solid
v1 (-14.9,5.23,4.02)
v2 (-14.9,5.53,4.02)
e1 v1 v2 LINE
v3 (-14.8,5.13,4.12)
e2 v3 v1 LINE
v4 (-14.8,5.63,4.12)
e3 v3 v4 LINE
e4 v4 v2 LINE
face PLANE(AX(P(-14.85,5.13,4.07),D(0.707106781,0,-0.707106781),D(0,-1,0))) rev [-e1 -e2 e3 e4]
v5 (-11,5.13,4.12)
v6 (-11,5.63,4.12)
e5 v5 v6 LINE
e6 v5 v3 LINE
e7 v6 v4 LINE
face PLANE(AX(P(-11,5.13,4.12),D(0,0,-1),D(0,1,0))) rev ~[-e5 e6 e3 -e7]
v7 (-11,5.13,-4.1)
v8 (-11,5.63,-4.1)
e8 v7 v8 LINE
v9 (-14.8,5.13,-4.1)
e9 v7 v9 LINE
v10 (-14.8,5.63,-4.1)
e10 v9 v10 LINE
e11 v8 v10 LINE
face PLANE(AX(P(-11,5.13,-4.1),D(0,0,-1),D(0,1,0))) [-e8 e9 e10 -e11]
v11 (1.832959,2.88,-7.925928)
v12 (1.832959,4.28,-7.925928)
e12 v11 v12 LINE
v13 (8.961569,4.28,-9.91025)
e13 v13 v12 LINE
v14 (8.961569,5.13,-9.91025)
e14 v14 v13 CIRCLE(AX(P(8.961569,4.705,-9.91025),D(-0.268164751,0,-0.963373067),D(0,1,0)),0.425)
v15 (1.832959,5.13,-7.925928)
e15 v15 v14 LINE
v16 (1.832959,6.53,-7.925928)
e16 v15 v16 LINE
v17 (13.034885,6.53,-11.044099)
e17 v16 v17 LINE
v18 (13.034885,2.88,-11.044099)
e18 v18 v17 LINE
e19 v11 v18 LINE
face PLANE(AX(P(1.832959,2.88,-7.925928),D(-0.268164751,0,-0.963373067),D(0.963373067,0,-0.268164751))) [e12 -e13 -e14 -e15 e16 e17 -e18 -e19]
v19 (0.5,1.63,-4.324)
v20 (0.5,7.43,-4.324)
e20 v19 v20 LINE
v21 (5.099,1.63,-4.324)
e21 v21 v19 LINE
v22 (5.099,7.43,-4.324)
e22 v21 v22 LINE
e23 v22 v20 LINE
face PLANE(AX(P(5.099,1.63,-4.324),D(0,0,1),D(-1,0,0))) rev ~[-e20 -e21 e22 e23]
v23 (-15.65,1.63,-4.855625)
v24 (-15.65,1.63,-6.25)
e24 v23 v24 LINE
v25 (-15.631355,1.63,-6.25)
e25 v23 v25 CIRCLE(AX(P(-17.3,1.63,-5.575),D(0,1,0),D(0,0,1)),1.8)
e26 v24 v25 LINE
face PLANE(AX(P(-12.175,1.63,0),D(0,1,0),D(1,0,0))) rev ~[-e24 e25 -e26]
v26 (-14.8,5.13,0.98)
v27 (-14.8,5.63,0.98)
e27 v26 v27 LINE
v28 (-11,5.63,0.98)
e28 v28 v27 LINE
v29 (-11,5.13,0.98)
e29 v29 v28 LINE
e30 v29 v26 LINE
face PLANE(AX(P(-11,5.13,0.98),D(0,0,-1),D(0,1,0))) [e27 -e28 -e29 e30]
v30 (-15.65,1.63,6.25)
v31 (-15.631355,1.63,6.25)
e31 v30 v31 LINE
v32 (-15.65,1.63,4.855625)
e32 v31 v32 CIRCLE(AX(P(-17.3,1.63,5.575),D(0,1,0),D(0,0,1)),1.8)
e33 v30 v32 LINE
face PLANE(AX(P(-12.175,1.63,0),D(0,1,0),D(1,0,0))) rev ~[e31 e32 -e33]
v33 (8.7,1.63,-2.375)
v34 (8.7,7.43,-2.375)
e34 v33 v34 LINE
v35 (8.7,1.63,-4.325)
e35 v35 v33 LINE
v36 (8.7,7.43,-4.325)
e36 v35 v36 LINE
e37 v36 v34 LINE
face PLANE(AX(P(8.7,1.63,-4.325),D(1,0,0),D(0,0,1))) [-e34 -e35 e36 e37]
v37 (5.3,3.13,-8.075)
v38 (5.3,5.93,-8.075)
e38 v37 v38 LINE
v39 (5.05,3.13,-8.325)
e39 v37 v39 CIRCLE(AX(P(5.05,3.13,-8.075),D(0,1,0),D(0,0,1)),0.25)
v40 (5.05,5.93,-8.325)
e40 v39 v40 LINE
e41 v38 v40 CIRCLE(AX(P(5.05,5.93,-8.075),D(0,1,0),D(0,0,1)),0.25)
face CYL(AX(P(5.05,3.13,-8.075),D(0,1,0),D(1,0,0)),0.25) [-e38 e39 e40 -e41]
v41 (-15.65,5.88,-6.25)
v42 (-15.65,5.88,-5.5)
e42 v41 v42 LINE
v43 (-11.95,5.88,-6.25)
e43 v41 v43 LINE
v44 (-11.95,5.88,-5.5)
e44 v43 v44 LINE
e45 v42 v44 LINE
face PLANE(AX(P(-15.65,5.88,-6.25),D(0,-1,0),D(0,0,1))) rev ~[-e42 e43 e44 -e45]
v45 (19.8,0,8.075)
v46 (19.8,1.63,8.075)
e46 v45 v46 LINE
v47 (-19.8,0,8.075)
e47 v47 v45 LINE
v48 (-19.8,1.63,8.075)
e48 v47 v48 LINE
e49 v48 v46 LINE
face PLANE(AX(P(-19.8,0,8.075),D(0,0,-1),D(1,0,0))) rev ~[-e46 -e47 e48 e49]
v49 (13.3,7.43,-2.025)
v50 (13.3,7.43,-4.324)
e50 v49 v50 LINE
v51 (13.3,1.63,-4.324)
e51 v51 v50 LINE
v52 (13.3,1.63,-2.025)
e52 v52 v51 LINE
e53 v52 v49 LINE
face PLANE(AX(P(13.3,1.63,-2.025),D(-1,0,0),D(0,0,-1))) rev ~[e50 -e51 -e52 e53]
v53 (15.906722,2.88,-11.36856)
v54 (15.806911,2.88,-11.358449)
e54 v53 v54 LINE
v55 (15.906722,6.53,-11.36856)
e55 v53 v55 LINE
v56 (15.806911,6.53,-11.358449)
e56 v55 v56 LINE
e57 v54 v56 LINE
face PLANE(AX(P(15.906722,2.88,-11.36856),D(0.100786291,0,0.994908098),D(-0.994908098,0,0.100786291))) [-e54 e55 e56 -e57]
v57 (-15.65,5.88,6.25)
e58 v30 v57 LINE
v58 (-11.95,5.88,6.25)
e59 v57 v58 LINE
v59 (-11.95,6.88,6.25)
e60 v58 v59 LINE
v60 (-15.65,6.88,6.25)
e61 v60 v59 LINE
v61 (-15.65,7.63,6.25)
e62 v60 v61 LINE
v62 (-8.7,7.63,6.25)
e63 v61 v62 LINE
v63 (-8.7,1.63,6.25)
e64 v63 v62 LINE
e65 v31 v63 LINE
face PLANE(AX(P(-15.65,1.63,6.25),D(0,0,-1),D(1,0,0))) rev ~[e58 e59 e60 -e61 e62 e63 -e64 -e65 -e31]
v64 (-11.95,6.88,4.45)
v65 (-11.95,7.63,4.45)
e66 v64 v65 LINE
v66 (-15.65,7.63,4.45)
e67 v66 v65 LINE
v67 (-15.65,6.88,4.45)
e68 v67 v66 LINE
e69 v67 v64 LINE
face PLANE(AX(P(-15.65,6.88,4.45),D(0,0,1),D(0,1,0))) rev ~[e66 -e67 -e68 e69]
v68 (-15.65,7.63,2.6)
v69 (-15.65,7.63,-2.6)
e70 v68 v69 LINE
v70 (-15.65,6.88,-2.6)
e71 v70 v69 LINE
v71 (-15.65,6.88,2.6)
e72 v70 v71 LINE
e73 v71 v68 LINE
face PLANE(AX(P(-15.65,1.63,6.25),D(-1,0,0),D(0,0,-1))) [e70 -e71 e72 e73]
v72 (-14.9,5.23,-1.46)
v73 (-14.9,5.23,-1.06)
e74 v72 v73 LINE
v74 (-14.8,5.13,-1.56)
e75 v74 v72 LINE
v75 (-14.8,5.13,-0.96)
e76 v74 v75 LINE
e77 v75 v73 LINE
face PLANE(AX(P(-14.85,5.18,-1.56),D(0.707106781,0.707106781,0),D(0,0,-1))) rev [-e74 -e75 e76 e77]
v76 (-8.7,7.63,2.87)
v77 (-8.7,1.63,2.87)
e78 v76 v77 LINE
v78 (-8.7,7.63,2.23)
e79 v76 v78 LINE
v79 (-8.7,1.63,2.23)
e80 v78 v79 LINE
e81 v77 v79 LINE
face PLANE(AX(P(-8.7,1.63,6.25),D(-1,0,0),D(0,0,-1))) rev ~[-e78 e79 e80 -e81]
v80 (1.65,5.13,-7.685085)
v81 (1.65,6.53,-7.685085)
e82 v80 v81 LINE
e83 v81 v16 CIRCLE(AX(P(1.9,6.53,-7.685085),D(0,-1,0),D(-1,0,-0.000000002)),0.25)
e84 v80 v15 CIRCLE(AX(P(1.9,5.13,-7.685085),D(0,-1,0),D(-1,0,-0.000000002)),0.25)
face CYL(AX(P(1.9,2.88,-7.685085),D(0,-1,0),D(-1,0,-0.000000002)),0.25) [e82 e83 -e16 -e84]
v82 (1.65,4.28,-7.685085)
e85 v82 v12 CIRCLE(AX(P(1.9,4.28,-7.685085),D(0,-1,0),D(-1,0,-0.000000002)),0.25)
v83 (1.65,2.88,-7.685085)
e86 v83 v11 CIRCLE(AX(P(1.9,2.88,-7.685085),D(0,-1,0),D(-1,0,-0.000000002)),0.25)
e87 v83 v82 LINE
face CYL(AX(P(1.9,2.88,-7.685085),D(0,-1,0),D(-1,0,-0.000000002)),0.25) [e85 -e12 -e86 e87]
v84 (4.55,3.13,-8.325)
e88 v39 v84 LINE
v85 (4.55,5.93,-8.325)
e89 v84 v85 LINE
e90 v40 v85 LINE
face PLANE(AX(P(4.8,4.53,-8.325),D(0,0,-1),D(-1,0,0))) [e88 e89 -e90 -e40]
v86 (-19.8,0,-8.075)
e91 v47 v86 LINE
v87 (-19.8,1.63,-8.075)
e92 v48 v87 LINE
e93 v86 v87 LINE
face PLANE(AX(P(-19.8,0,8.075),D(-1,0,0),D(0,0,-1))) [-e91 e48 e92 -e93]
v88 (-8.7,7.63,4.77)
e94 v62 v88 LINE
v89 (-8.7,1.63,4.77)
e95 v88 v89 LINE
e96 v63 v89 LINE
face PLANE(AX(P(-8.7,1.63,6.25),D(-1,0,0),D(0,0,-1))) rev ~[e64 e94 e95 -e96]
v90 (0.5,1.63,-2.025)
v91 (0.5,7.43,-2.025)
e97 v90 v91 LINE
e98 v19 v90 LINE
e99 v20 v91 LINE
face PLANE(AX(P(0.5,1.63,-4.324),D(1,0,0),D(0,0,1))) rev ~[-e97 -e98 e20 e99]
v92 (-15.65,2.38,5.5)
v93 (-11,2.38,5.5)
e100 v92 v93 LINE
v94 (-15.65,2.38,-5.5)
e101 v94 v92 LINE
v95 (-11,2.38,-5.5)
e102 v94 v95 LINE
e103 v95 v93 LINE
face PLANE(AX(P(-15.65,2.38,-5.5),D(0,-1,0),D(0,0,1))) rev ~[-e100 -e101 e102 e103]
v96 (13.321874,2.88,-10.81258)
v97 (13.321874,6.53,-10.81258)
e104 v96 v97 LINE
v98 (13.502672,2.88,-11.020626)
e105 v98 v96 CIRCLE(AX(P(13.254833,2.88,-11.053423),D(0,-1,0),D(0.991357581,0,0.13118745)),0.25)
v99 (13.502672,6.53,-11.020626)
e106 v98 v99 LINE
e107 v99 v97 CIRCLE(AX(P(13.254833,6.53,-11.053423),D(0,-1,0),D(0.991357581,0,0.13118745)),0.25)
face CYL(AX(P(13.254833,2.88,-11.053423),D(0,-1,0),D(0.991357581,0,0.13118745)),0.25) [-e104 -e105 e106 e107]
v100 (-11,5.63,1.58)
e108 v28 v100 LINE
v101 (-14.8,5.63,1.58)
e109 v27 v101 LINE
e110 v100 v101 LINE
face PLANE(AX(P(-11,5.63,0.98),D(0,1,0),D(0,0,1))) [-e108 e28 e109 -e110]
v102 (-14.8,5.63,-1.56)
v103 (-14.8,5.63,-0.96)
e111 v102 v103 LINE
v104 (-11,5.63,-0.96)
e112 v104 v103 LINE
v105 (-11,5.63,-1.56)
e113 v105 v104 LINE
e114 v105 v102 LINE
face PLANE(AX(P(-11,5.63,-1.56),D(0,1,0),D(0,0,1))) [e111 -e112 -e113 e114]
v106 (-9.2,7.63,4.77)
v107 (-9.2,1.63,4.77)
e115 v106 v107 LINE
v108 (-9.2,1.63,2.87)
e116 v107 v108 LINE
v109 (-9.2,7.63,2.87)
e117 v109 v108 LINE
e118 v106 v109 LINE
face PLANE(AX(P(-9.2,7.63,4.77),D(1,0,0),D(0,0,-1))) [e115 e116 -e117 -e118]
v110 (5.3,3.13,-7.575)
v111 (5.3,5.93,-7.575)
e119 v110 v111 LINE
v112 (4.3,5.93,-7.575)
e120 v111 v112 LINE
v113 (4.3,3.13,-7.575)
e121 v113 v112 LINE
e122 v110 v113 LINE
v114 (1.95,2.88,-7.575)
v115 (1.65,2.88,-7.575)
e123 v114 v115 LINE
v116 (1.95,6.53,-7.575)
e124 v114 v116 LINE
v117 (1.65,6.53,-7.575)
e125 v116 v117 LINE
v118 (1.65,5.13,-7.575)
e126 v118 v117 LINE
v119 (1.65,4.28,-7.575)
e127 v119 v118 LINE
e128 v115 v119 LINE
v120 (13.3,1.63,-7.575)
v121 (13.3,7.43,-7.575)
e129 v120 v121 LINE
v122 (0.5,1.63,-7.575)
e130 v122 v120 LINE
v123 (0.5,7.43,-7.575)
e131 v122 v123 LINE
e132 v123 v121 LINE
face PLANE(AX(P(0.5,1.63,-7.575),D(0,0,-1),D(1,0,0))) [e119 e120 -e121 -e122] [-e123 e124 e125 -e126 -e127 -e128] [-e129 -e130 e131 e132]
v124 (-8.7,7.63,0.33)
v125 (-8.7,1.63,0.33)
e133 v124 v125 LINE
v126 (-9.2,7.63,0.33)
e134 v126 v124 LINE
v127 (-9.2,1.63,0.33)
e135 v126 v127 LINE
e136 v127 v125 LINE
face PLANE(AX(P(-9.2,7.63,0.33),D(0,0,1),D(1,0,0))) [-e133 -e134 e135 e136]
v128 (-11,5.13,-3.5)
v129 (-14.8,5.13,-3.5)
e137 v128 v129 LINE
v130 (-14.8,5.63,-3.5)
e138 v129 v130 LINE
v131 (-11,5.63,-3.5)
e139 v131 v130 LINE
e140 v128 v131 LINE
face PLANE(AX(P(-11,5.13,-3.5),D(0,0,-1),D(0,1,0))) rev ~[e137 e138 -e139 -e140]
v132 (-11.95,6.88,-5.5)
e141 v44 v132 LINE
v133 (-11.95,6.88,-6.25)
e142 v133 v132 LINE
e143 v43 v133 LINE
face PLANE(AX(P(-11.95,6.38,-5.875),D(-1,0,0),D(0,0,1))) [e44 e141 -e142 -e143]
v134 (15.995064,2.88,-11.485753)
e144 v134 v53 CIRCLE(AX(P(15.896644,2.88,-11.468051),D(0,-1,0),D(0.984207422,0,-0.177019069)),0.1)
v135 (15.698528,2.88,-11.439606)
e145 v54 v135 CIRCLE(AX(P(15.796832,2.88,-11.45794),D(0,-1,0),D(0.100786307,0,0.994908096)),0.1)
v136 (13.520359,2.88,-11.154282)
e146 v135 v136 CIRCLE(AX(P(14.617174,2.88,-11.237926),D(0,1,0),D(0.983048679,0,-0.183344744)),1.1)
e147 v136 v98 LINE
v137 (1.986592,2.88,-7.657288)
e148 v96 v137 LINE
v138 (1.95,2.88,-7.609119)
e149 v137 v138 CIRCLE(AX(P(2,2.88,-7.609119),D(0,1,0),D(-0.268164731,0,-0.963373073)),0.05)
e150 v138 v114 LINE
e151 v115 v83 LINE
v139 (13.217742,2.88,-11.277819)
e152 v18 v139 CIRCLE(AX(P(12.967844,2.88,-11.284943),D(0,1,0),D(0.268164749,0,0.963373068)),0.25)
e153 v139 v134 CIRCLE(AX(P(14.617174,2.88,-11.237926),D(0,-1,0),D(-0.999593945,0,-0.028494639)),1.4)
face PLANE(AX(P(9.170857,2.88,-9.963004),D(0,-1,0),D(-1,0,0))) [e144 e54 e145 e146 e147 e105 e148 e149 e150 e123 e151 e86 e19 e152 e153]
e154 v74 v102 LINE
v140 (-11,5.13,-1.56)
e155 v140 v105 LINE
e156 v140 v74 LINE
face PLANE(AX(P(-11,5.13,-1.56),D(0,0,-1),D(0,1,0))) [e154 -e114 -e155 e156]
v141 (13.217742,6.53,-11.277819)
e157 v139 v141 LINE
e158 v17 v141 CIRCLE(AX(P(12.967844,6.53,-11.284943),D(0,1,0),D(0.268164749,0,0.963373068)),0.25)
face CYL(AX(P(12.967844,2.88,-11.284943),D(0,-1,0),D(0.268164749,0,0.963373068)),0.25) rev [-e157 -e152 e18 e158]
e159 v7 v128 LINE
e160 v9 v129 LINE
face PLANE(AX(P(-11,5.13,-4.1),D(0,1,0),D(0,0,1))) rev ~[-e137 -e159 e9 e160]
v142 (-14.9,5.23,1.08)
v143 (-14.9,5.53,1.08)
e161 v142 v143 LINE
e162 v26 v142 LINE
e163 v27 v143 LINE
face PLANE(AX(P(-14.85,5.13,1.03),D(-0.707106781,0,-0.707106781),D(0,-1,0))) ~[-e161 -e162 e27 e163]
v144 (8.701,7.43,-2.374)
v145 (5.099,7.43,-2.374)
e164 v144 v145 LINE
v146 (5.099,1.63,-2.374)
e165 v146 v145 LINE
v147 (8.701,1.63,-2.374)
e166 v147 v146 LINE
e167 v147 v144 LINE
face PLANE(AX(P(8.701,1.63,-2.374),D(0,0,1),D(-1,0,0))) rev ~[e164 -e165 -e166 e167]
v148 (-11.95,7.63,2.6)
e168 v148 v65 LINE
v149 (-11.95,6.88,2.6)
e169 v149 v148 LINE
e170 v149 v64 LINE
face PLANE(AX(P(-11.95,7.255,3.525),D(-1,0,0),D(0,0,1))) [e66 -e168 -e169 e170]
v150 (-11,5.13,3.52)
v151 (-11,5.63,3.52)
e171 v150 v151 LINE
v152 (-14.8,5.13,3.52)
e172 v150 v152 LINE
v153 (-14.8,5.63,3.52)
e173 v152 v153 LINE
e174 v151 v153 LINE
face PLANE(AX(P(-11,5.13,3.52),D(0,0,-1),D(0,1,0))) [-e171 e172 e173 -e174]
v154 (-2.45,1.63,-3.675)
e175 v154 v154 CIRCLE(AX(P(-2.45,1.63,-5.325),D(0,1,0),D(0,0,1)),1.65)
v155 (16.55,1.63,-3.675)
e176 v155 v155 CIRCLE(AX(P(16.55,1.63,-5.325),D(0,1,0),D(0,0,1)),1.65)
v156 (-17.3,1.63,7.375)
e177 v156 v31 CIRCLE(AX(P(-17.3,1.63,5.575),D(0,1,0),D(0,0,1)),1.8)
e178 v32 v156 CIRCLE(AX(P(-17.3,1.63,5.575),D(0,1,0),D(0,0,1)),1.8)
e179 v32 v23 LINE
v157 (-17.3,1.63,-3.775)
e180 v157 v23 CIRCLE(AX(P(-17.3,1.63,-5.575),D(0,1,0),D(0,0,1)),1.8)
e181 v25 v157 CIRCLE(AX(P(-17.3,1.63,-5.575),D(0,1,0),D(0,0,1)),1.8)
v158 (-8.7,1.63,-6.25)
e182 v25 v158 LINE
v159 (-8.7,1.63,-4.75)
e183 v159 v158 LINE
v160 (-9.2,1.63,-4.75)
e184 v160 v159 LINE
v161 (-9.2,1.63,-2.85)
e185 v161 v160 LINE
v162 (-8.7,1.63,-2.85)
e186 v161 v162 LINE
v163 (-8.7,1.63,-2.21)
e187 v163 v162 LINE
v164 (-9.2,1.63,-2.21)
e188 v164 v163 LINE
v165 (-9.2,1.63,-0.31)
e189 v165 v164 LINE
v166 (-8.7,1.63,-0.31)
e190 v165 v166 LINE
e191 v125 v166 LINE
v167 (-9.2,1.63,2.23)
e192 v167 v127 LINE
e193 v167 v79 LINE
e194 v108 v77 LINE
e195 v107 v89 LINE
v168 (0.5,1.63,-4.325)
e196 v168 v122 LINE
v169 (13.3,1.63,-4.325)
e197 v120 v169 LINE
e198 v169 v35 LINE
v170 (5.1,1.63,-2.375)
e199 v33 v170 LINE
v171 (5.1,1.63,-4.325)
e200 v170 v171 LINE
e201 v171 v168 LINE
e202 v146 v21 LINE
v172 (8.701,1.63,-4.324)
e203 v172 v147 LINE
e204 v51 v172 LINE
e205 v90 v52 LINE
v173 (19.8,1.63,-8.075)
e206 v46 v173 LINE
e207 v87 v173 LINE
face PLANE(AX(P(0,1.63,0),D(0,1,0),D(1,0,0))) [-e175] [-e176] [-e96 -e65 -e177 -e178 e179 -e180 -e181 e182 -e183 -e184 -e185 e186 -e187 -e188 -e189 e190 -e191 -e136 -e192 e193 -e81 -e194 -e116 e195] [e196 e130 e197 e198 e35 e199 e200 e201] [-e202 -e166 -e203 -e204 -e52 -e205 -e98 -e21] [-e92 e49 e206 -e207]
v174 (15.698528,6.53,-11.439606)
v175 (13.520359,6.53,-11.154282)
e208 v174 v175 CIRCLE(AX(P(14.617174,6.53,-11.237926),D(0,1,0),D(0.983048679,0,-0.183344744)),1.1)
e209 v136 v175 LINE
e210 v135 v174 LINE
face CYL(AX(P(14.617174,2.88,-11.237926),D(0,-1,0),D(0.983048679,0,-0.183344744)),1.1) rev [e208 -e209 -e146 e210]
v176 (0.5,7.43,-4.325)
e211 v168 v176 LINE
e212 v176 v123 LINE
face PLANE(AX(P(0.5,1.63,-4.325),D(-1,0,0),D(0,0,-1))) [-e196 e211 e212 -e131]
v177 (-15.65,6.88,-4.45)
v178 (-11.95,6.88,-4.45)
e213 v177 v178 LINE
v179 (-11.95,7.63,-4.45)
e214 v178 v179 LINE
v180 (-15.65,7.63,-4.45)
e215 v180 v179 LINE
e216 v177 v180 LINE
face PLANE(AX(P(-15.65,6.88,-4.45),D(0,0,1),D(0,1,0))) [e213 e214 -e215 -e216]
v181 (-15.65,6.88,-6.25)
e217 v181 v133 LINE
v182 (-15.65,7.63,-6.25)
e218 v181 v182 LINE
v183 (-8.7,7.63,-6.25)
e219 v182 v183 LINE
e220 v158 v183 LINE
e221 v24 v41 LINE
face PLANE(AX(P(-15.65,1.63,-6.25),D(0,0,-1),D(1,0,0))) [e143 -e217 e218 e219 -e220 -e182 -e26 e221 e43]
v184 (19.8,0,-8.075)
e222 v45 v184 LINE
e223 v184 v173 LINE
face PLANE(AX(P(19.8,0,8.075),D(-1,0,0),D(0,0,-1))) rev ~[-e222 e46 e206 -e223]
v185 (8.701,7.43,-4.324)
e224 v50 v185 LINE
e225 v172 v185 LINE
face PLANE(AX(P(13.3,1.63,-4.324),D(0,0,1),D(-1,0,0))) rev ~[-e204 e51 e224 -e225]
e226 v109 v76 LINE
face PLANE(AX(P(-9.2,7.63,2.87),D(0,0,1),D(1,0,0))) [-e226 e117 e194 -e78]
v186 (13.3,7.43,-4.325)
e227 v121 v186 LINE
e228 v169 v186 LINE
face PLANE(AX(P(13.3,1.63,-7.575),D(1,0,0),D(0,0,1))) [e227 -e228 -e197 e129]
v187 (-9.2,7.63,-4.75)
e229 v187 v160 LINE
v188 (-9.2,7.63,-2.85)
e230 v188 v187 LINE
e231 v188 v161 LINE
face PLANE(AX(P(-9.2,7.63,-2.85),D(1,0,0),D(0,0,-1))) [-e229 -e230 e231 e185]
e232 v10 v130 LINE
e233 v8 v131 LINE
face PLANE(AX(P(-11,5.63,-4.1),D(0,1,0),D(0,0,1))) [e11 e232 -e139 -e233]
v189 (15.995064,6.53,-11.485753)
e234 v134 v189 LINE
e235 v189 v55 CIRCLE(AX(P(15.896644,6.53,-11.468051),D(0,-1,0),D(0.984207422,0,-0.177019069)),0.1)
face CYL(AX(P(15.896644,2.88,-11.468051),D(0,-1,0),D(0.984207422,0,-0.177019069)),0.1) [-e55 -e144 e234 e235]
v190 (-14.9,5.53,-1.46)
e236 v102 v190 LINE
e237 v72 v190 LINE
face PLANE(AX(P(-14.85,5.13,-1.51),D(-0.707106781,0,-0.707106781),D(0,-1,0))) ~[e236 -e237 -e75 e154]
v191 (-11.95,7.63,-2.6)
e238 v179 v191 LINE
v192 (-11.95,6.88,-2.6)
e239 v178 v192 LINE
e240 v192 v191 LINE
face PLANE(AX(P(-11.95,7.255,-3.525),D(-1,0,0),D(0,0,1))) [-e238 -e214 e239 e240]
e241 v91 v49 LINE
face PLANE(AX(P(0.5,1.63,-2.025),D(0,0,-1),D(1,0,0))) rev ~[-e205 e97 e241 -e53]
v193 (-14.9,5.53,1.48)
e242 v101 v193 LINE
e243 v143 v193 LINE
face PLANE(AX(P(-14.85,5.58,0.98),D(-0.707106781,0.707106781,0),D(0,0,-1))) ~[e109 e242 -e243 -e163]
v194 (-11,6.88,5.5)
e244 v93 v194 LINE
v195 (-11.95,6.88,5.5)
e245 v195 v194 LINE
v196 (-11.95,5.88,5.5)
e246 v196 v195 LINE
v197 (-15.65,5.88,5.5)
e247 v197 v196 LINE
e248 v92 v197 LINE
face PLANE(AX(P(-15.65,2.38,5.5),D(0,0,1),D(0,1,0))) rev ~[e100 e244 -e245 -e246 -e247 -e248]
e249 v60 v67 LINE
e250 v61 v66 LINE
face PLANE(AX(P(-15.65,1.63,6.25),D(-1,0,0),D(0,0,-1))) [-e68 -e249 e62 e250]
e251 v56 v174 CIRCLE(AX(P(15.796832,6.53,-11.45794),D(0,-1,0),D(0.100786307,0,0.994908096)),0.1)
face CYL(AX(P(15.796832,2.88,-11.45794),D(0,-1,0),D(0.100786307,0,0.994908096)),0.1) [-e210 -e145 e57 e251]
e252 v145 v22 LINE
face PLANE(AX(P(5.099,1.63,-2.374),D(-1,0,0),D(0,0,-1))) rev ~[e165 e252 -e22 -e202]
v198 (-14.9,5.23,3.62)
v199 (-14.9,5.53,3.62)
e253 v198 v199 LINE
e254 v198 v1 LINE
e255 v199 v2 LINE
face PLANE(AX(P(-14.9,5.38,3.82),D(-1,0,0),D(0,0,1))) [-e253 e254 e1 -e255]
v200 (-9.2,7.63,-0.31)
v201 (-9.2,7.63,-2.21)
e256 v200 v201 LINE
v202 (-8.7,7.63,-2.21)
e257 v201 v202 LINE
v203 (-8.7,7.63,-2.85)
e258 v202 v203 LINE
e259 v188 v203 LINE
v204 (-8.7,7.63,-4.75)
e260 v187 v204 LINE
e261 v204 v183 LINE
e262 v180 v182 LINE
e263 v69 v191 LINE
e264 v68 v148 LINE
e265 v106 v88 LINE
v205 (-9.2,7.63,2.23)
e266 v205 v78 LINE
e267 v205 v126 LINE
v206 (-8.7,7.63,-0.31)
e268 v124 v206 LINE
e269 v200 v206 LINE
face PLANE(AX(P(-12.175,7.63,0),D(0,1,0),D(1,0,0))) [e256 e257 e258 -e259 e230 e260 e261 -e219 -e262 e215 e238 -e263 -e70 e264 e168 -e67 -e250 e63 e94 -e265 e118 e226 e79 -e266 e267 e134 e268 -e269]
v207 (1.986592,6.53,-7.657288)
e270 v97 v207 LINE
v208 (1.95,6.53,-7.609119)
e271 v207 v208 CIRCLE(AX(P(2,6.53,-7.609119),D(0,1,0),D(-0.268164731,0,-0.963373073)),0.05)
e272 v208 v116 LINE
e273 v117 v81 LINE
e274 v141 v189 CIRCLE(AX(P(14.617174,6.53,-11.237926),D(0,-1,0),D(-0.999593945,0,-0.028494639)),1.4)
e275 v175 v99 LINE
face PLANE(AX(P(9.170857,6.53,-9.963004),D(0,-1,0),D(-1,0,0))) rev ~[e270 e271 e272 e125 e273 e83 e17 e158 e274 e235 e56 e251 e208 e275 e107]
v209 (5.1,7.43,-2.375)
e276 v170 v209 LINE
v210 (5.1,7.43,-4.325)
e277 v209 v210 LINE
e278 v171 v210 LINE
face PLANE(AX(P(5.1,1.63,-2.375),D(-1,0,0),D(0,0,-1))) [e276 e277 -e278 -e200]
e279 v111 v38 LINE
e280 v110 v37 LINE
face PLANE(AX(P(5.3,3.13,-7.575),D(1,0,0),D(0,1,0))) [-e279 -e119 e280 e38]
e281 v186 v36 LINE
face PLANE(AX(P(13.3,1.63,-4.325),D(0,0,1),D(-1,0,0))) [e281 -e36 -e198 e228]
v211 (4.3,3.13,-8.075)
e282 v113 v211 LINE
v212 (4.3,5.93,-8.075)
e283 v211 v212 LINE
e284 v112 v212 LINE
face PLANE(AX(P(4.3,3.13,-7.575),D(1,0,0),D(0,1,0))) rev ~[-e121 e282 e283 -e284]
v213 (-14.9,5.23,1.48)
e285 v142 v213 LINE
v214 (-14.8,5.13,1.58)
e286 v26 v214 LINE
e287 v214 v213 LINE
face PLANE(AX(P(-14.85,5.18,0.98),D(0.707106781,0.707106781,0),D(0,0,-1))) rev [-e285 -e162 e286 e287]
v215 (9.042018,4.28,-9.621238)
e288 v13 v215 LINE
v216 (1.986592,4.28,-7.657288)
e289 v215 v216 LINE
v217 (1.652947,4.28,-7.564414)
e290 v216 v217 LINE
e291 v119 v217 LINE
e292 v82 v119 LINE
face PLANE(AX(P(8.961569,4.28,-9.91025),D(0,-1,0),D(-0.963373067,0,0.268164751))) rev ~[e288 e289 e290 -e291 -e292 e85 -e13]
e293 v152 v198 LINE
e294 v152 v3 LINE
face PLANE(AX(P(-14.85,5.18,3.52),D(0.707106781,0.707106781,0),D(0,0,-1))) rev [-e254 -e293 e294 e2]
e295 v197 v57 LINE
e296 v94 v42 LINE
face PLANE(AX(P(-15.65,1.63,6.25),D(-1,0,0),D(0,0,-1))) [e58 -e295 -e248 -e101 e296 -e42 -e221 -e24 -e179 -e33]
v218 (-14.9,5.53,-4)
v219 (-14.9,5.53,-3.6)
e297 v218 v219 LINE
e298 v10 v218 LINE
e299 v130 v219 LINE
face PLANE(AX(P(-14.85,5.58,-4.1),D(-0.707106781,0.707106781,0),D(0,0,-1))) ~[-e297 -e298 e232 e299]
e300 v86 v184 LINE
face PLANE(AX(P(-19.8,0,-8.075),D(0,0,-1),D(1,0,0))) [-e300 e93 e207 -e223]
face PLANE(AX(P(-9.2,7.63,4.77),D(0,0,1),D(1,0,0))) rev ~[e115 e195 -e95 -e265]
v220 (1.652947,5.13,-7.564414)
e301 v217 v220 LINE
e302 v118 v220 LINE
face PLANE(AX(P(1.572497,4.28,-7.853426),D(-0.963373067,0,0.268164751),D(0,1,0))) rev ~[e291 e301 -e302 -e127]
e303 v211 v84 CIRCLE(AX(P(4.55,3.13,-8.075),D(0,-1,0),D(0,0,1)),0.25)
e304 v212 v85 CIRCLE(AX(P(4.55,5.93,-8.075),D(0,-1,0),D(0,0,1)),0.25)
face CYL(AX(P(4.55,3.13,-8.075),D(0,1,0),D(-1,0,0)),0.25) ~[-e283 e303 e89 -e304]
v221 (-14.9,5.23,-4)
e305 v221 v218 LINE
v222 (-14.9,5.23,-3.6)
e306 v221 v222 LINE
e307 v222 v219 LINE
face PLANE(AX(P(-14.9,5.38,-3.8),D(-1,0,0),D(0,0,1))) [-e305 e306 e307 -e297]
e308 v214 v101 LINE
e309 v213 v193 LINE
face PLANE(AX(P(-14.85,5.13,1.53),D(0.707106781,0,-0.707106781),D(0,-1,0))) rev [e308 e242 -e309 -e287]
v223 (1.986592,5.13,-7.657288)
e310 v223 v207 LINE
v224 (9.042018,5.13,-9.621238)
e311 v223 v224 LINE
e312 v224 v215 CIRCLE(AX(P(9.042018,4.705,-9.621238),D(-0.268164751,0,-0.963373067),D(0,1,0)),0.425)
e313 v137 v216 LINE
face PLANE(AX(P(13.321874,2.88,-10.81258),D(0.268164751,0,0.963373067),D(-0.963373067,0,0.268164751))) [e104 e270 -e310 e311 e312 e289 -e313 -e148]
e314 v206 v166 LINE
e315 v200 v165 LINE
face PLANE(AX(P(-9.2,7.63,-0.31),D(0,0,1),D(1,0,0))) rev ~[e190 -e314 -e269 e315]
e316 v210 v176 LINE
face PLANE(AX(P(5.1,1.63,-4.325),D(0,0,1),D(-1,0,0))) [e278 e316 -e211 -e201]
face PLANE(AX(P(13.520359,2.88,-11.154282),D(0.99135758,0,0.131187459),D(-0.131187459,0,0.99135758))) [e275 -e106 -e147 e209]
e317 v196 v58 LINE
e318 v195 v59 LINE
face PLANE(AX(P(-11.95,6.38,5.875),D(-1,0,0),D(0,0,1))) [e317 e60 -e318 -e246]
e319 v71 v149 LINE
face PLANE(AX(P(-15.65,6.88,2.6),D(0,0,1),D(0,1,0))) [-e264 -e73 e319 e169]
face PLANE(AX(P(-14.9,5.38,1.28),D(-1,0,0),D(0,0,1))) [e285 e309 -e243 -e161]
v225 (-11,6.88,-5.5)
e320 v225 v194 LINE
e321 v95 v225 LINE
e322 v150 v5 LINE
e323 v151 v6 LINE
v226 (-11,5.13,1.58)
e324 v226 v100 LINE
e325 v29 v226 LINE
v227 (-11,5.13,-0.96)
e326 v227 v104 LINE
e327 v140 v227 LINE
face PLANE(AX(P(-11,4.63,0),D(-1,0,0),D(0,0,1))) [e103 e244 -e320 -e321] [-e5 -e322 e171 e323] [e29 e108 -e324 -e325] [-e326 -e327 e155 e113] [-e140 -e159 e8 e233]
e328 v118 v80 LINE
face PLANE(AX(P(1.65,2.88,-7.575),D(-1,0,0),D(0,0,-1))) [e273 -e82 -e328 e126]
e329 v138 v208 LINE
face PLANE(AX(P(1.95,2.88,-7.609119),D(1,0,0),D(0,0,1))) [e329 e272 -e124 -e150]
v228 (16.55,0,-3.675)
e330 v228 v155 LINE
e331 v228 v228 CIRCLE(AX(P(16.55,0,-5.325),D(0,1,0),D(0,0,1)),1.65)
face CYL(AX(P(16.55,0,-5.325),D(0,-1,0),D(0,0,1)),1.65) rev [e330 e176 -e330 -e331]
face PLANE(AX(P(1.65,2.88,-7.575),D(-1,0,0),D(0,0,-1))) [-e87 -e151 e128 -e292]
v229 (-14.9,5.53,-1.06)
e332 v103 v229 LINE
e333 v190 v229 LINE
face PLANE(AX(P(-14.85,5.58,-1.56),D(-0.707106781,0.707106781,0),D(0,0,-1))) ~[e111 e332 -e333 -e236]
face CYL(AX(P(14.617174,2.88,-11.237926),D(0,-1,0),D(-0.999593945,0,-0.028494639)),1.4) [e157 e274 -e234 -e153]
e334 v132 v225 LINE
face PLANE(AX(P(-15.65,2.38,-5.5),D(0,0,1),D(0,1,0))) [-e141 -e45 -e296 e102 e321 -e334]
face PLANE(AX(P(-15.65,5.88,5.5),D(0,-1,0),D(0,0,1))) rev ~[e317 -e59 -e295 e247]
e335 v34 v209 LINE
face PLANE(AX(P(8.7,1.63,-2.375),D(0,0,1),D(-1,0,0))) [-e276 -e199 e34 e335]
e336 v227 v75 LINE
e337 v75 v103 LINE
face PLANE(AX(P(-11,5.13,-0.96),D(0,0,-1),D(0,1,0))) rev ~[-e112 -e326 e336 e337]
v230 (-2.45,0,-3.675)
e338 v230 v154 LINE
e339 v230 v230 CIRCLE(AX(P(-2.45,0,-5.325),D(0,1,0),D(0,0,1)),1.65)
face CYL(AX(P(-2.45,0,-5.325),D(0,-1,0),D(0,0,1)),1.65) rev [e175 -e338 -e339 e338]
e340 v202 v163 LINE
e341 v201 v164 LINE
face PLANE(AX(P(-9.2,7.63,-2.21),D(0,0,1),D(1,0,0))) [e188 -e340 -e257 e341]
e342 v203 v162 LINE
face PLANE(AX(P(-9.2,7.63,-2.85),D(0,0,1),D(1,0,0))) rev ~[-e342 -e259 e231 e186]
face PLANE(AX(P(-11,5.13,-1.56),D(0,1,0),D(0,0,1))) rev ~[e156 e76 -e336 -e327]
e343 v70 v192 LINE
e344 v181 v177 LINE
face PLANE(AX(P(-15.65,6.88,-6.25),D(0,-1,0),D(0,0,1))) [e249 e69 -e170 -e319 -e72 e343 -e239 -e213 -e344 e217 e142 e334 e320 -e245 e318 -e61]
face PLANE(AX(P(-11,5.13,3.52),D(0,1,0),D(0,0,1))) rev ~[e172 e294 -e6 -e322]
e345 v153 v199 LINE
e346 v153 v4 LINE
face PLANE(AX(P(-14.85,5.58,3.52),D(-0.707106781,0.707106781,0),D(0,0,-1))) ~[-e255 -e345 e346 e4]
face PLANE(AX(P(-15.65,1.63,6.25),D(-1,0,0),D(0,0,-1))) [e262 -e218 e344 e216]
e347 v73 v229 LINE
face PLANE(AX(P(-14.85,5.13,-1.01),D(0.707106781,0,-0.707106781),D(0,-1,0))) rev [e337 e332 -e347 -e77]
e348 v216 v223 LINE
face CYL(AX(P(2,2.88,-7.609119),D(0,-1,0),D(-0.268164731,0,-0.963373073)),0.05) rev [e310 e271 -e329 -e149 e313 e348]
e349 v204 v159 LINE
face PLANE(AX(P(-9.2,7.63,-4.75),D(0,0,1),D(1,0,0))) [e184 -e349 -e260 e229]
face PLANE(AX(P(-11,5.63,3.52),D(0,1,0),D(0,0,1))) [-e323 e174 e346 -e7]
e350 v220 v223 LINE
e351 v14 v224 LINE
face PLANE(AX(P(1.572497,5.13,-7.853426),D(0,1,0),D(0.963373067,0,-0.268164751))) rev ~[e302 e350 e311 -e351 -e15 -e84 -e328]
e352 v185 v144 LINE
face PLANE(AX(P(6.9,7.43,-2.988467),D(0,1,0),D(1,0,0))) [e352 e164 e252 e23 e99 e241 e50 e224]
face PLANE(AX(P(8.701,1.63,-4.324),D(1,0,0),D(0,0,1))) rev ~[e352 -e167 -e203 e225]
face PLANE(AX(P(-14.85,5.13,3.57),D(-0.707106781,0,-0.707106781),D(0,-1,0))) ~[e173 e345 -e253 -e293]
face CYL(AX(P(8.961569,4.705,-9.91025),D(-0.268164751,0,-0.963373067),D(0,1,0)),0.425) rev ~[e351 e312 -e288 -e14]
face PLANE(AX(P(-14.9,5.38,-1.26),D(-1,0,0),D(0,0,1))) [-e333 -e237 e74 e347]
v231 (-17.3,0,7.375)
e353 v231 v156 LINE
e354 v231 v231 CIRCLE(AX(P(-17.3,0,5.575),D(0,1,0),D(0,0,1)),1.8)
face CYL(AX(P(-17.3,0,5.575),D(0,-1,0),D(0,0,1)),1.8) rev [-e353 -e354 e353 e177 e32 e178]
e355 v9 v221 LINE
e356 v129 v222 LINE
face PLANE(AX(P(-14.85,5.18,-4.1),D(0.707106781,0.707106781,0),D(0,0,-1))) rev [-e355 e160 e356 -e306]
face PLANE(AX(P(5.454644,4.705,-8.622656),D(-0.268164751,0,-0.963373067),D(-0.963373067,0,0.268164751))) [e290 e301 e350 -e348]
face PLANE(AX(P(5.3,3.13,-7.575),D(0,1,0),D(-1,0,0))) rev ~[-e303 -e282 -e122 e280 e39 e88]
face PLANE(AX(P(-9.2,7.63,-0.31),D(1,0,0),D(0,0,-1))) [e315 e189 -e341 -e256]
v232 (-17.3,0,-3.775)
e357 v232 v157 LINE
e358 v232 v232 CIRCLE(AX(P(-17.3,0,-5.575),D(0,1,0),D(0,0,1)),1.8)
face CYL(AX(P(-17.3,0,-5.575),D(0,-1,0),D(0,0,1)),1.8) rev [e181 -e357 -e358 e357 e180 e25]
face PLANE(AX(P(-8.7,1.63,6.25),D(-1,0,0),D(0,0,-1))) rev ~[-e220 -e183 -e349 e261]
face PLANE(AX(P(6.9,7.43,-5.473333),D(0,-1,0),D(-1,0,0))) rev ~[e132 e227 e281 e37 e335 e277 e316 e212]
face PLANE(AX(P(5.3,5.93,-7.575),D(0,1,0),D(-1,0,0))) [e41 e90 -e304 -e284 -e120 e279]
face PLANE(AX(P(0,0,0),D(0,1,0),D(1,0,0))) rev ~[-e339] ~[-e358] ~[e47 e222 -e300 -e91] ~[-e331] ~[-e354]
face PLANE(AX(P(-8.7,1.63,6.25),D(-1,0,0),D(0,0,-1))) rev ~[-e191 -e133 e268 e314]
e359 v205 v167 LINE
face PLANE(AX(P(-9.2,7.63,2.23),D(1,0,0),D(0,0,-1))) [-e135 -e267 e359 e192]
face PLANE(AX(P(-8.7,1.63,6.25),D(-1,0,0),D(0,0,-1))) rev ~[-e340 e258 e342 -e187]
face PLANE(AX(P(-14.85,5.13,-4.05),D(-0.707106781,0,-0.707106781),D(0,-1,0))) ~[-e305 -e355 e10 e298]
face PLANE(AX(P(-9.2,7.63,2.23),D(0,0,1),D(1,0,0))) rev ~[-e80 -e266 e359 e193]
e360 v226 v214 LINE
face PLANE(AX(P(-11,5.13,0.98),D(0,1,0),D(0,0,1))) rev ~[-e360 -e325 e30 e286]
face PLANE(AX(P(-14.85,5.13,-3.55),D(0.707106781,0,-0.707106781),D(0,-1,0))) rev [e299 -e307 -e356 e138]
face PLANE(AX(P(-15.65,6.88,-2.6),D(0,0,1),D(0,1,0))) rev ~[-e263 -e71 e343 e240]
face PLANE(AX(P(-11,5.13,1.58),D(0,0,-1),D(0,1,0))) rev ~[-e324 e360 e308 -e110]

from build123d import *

# Parameters (mm, degrees)
SKETCH1_W           = 39.6
SKETCH1_H           = 16.15
SKETCH1_R           = 1.8
SKETCH1_R_2         = 1.65
BOSS_EXTRUDE1_DEPTH = 1.63
SKETCH2_W           = 6.95
SKETCH2_H           = 12.5
BOSS_EXTRUDE2_DEPTH = 6
SKETCH3_W           = 11
SKETCH3_H           = 4.5
CUT_EXTRUDE1_DEPTH  = 4.65
SKETCH4_W           = 1.85
SKETCH4_H           = 0.75
SKETCH4_W_2         = 0.75
SKETCH4_H_2         = 1
CUT_EXTRUDE2_DEPTH  = 3.7
SKETCH5_W           = 0.5
SKETCH5_H           = 1.9
CUT_EXTRUDE3_DEPTH  = 6
SKETCH6_W           = 0.6
SKETCH6_H           = 0.5
BOSS_EXTRUDE3_DEPTH = 3.9
CHAMFER1_SIZE       = 0.1
BOSS_EXTRUDE4_DEPTH = 5.8
BOSS_EXTRUDE5_DEPTH = 5.8
SKETCH9_W           = 1
SKETCH9_H           = 2.8
BOSS_EXTRUDE6_DEPTH = 0.75
FILLET1_R           = 0.25
BOSS_EXTRUDE7_DEPTH = 3.65
CUT_EXTRUDE4_DEPTH  = 0.3


with BuildPart() as part:
    # Sketch1 → Boss-Extrude1 (new body)
    with BuildSketch(Plane(origin=(0, 0, 0), x_dir=(1, 0, 0), z_dir=(0, 1, 0))):
        Rectangle(SKETCH1_W, SKETCH1_H)
        with Locations(Location((-17.3, 5.575, 0), (0, 0, 270))):
            Circle(SKETCH1_R, mode=Mode.SUBTRACT)
        with Locations(Location((-17.3, -5.575, 0), (0, 0, 270))):
            Circle(SKETCH1_R, mode=Mode.SUBTRACT)
        with Locations(Location((-2.45, 5.325, 0), (0, 0, 270))):
            Circle(SKETCH1_R_2, mode=Mode.SUBTRACT)
        with Locations(Location((16.55, 5.325, 0), (0, 0, 270))):
            Circle(SKETCH1_R_2, mode=Mode.SUBTRACT)
    extrude(amount=BOSS_EXTRUDE1_DEPTH)

    # Sketch2 → Boss-Extrude2 (add)
    with BuildSketch(Plane(origin=(0, 1.63, 0), x_dir=(1, 0, 0), z_dir=(0, 1, 0))):
        with Locations((-12.175, 0)):
            Rectangle(SKETCH2_W, SKETCH2_H)
    extrude(amount=BOSS_EXTRUDE2_DEPTH)

    # Sketch3 → Cut-Extrude1 (cut)
    with BuildSketch(Plane.ZY.offset(15.65)):
        with Locations((0, 4.63)):
            Rectangle(SKETCH3_W, SKETCH3_H)
    extrude(amount=-CUT_EXTRUDE1_DEPTH, mode=Mode.SUBTRACT)

    # Sketch4 → Cut-Extrude2 (cut)
    with BuildSketch(Plane.ZY.offset(15.65)):
        with Locations((-3.525, 7.255)):
            Rectangle(SKETCH4_W, SKETCH4_H)
        with Locations((-5.875, 6.38)):
            Rectangle(SKETCH4_W_2, SKETCH4_H_2)
        with Locations((5.875, 6.38)):
            Rectangle(SKETCH4_W_2, SKETCH4_H_2)
        with Locations((3.525, 7.255)):
            Rectangle(SKETCH4_W, SKETCH4_H)
    extrude(amount=-CUT_EXTRUDE2_DEPTH, mode=Mode.SUBTRACT)

    # Sketch5 → Cut-Extrude3 (cut)
    with BuildSketch(Plane(origin=(0, 7.63, 0), x_dir=(1, 0, 0), z_dir=(0, 1, 0))):
        with Locations((-8.95, 3.8)):
            Rectangle(SKETCH5_W, SKETCH5_H)
        with Locations((-8.95, 1.26)):
            Rectangle(SKETCH5_W, SKETCH5_H)
        with Locations((-8.95, -1.28)):
            Rectangle(SKETCH5_W, SKETCH5_H)
        with Locations((-8.95, -3.82)):
            Rectangle(SKETCH5_W, SKETCH5_H)
    extrude(amount=-CUT_EXTRUDE3_DEPTH, mode=Mode.SUBTRACT)

    # Sketch6 → Boss-Extrude3 (add)
    with BuildSketch(Plane.ZY.offset(11)):
        with Locations((-3.8, 5.38)):
            Rectangle(SKETCH6_W, SKETCH6_H)
        with Locations((-1.26, 5.38)):
            Rectangle(SKETCH6_W, SKETCH6_H)
        with Locations((1.28, 5.38)):
            Rectangle(SKETCH6_W, SKETCH6_H)
        with Locations((3.82, 5.38)):
            Rectangle(SKETCH6_W, SKETCH6_H)
    extrude(amount=BOSS_EXTRUDE3_DEPTH)

    # Chamfer1
    chamfer1_edges = [part.edges().sort_by_distance(p)[0] for p in [
        (-14.9, 5.38, -4.1),
        (-14.9, 5.13, -3.8),
        (-14.9, 5.38, -3.5),
        (-14.9, 5.63, -3.8),
        (-14.9, 5.63, -1.26),
        (-14.9, 5.38, -1.56),
        (-14.9, 5.13, -1.26),
        (-14.9, 5.38, -0.96),
        (-14.9, 5.63, 1.28),
        (-14.9, 5.38, 0.98),
        (-14.9, 5.13, 1.28),
        (-14.9, 5.38, 1.58),
        (-14.9, 5.63, 3.82),
        (-14.9, 5.38, 3.52),
        (-14.9, 5.13, 3.82),
        (-14.9, 5.38, 4.12),
    ]]
    chamfer(chamfer1_edges, length=CHAMFER1_SIZE)

    # Sketch7 → Boss-Extrude4 (add)
    with BuildSketch(Plane(origin=(0, 1.63, 0), x_dir=(1, 0, 0), z_dir=(0, 1, 0))):
        Polygon((0.5, 7.575), (13.3, 7.575), (13.3, 4.325), (8.7, 4.325), (8.7, 2.375), (5.1, 2.375), (5.1, 4.325), (0.5, 4.325), align=None)
    extrude(amount=BOSS_EXTRUDE4_DEPTH)

    # Sketch8 → Boss-Extrude5 (add)
    with BuildSketch(Plane(origin=(0, 1.63, 0), x_dir=(1, 0, 0), z_dir=(0, 1, 0))):
        Polygon((0.5, 4.324), (0.5, 2.025), (13.3, 2.025), (13.3, 4.324), (8.701, 4.324), (8.701, 2.374), (5.099, 2.374), (5.099, 4.324), align=None)
    extrude(amount=BOSS_EXTRUDE5_DEPTH)

    # Sketch9 → Boss-Extrude6 (add)
    with BuildSketch(Plane(origin=(0, 0, -7.575), x_dir=(-1, 0, 0), z_dir=(0, 0, -1))):
        with Locations((-4.8, 4.53)):
            Rectangle(SKETCH9_W, SKETCH9_H)
    extrude(amount=BOSS_EXTRUDE6_DEPTH)

    # Fillet1
    fillet1_edges = [part.edges().sort_by_distance(p)[0] for p in [
        (4.3, 4.53, -8.325),
        (5.3, 4.53, -8.325),
    ]]
    fillet(fillet1_edges, radius=FILLET1_R)

    # Sketch10 → Boss-Extrude7 (add)
    with BuildSketch(Plane(origin=(0, 2.88, 0), x_dir=(1, 0, 0), z_dir=(0, 1, 0))):
        with BuildLine():
            ThreePointArc((1.986591762, 7.65728792), (1.960185355, 7.63936483), (1.95, 7.609119267))
            Line((1.95, 7.609119267), (1.95, 7.575))
            Line((1.95, 7.575), (1.65, 7.575))
            Line((1.65, 7.575), (1.65, 7.685085191))
            ThreePointArc((1.65, 7.685085191), (1.700926776, 7.836313004), (1.832958812, 7.925928458))
            Line((1.832958812, 7.925928458), (13.03488517, 11.044099284))
            ThreePointArc((13.03488517, 11.044099284), (13.164742187, 11.130893542), (13.217742469, 11.277818891))
            ThreePointArc((13.217742469, 11.277818891), (14.51265049, 12.6340191), (15.995064384, 11.485753085))
            ThreePointArc((15.995064384, 11.485753085), (15.976497018, 11.407856176), (15.906722272, 11.368560369))
            Line((15.906722272, 11.368560369), (15.806911036, 11.35844928))
            ThreePointArc((15.806911036, 11.35844928), (15.736894481, 11.377893571), (15.698527539, 11.439605615))
            ThreePointArc((15.698527539, 11.439605615), (14.474302897, 12.328608683), (13.520358774, 11.154282051))
            Line((13.520358774, 11.154282051), (13.502671925, 11.020626045))
            ThreePointArc((13.502671925, 11.020626045), (13.443534072, 10.889435933), (13.321873718, 10.812579642))
            Line((13.321873718, 10.812579642), (1.986591762, 7.65728792))
        make_face()
    extrude(amount=BOSS_EXTRUDE7_DEPTH)

    # Sketch11 → Cut-Extrude4 (cut)
    with BuildSketch(Plane(origin=(1.123559568, 0, -7.728459919), x_dir=(0.9633730670576666, 0, -0.26816475097951425), z_dir=(0.26816475097951425, 0, 0.9633730670576666))):
        with BuildLine():
            Line((0.466005992, 5.13), (8.136005992, 5.13))
            ThreePointArc((8.136005992, 5.13), (8.561005992, 4.705), (8.136005992, 4.28))
            Line((8.136005992, 4.28), (0.466005992, 4.28))
            Line((0.466005992, 4.28), (0.466005992, 5.13))
        make_face()
    extrude(amount=CUT_EXTRUDE4_DEPTH, mode=Mode.SUBTRACT)


solid = part.part
